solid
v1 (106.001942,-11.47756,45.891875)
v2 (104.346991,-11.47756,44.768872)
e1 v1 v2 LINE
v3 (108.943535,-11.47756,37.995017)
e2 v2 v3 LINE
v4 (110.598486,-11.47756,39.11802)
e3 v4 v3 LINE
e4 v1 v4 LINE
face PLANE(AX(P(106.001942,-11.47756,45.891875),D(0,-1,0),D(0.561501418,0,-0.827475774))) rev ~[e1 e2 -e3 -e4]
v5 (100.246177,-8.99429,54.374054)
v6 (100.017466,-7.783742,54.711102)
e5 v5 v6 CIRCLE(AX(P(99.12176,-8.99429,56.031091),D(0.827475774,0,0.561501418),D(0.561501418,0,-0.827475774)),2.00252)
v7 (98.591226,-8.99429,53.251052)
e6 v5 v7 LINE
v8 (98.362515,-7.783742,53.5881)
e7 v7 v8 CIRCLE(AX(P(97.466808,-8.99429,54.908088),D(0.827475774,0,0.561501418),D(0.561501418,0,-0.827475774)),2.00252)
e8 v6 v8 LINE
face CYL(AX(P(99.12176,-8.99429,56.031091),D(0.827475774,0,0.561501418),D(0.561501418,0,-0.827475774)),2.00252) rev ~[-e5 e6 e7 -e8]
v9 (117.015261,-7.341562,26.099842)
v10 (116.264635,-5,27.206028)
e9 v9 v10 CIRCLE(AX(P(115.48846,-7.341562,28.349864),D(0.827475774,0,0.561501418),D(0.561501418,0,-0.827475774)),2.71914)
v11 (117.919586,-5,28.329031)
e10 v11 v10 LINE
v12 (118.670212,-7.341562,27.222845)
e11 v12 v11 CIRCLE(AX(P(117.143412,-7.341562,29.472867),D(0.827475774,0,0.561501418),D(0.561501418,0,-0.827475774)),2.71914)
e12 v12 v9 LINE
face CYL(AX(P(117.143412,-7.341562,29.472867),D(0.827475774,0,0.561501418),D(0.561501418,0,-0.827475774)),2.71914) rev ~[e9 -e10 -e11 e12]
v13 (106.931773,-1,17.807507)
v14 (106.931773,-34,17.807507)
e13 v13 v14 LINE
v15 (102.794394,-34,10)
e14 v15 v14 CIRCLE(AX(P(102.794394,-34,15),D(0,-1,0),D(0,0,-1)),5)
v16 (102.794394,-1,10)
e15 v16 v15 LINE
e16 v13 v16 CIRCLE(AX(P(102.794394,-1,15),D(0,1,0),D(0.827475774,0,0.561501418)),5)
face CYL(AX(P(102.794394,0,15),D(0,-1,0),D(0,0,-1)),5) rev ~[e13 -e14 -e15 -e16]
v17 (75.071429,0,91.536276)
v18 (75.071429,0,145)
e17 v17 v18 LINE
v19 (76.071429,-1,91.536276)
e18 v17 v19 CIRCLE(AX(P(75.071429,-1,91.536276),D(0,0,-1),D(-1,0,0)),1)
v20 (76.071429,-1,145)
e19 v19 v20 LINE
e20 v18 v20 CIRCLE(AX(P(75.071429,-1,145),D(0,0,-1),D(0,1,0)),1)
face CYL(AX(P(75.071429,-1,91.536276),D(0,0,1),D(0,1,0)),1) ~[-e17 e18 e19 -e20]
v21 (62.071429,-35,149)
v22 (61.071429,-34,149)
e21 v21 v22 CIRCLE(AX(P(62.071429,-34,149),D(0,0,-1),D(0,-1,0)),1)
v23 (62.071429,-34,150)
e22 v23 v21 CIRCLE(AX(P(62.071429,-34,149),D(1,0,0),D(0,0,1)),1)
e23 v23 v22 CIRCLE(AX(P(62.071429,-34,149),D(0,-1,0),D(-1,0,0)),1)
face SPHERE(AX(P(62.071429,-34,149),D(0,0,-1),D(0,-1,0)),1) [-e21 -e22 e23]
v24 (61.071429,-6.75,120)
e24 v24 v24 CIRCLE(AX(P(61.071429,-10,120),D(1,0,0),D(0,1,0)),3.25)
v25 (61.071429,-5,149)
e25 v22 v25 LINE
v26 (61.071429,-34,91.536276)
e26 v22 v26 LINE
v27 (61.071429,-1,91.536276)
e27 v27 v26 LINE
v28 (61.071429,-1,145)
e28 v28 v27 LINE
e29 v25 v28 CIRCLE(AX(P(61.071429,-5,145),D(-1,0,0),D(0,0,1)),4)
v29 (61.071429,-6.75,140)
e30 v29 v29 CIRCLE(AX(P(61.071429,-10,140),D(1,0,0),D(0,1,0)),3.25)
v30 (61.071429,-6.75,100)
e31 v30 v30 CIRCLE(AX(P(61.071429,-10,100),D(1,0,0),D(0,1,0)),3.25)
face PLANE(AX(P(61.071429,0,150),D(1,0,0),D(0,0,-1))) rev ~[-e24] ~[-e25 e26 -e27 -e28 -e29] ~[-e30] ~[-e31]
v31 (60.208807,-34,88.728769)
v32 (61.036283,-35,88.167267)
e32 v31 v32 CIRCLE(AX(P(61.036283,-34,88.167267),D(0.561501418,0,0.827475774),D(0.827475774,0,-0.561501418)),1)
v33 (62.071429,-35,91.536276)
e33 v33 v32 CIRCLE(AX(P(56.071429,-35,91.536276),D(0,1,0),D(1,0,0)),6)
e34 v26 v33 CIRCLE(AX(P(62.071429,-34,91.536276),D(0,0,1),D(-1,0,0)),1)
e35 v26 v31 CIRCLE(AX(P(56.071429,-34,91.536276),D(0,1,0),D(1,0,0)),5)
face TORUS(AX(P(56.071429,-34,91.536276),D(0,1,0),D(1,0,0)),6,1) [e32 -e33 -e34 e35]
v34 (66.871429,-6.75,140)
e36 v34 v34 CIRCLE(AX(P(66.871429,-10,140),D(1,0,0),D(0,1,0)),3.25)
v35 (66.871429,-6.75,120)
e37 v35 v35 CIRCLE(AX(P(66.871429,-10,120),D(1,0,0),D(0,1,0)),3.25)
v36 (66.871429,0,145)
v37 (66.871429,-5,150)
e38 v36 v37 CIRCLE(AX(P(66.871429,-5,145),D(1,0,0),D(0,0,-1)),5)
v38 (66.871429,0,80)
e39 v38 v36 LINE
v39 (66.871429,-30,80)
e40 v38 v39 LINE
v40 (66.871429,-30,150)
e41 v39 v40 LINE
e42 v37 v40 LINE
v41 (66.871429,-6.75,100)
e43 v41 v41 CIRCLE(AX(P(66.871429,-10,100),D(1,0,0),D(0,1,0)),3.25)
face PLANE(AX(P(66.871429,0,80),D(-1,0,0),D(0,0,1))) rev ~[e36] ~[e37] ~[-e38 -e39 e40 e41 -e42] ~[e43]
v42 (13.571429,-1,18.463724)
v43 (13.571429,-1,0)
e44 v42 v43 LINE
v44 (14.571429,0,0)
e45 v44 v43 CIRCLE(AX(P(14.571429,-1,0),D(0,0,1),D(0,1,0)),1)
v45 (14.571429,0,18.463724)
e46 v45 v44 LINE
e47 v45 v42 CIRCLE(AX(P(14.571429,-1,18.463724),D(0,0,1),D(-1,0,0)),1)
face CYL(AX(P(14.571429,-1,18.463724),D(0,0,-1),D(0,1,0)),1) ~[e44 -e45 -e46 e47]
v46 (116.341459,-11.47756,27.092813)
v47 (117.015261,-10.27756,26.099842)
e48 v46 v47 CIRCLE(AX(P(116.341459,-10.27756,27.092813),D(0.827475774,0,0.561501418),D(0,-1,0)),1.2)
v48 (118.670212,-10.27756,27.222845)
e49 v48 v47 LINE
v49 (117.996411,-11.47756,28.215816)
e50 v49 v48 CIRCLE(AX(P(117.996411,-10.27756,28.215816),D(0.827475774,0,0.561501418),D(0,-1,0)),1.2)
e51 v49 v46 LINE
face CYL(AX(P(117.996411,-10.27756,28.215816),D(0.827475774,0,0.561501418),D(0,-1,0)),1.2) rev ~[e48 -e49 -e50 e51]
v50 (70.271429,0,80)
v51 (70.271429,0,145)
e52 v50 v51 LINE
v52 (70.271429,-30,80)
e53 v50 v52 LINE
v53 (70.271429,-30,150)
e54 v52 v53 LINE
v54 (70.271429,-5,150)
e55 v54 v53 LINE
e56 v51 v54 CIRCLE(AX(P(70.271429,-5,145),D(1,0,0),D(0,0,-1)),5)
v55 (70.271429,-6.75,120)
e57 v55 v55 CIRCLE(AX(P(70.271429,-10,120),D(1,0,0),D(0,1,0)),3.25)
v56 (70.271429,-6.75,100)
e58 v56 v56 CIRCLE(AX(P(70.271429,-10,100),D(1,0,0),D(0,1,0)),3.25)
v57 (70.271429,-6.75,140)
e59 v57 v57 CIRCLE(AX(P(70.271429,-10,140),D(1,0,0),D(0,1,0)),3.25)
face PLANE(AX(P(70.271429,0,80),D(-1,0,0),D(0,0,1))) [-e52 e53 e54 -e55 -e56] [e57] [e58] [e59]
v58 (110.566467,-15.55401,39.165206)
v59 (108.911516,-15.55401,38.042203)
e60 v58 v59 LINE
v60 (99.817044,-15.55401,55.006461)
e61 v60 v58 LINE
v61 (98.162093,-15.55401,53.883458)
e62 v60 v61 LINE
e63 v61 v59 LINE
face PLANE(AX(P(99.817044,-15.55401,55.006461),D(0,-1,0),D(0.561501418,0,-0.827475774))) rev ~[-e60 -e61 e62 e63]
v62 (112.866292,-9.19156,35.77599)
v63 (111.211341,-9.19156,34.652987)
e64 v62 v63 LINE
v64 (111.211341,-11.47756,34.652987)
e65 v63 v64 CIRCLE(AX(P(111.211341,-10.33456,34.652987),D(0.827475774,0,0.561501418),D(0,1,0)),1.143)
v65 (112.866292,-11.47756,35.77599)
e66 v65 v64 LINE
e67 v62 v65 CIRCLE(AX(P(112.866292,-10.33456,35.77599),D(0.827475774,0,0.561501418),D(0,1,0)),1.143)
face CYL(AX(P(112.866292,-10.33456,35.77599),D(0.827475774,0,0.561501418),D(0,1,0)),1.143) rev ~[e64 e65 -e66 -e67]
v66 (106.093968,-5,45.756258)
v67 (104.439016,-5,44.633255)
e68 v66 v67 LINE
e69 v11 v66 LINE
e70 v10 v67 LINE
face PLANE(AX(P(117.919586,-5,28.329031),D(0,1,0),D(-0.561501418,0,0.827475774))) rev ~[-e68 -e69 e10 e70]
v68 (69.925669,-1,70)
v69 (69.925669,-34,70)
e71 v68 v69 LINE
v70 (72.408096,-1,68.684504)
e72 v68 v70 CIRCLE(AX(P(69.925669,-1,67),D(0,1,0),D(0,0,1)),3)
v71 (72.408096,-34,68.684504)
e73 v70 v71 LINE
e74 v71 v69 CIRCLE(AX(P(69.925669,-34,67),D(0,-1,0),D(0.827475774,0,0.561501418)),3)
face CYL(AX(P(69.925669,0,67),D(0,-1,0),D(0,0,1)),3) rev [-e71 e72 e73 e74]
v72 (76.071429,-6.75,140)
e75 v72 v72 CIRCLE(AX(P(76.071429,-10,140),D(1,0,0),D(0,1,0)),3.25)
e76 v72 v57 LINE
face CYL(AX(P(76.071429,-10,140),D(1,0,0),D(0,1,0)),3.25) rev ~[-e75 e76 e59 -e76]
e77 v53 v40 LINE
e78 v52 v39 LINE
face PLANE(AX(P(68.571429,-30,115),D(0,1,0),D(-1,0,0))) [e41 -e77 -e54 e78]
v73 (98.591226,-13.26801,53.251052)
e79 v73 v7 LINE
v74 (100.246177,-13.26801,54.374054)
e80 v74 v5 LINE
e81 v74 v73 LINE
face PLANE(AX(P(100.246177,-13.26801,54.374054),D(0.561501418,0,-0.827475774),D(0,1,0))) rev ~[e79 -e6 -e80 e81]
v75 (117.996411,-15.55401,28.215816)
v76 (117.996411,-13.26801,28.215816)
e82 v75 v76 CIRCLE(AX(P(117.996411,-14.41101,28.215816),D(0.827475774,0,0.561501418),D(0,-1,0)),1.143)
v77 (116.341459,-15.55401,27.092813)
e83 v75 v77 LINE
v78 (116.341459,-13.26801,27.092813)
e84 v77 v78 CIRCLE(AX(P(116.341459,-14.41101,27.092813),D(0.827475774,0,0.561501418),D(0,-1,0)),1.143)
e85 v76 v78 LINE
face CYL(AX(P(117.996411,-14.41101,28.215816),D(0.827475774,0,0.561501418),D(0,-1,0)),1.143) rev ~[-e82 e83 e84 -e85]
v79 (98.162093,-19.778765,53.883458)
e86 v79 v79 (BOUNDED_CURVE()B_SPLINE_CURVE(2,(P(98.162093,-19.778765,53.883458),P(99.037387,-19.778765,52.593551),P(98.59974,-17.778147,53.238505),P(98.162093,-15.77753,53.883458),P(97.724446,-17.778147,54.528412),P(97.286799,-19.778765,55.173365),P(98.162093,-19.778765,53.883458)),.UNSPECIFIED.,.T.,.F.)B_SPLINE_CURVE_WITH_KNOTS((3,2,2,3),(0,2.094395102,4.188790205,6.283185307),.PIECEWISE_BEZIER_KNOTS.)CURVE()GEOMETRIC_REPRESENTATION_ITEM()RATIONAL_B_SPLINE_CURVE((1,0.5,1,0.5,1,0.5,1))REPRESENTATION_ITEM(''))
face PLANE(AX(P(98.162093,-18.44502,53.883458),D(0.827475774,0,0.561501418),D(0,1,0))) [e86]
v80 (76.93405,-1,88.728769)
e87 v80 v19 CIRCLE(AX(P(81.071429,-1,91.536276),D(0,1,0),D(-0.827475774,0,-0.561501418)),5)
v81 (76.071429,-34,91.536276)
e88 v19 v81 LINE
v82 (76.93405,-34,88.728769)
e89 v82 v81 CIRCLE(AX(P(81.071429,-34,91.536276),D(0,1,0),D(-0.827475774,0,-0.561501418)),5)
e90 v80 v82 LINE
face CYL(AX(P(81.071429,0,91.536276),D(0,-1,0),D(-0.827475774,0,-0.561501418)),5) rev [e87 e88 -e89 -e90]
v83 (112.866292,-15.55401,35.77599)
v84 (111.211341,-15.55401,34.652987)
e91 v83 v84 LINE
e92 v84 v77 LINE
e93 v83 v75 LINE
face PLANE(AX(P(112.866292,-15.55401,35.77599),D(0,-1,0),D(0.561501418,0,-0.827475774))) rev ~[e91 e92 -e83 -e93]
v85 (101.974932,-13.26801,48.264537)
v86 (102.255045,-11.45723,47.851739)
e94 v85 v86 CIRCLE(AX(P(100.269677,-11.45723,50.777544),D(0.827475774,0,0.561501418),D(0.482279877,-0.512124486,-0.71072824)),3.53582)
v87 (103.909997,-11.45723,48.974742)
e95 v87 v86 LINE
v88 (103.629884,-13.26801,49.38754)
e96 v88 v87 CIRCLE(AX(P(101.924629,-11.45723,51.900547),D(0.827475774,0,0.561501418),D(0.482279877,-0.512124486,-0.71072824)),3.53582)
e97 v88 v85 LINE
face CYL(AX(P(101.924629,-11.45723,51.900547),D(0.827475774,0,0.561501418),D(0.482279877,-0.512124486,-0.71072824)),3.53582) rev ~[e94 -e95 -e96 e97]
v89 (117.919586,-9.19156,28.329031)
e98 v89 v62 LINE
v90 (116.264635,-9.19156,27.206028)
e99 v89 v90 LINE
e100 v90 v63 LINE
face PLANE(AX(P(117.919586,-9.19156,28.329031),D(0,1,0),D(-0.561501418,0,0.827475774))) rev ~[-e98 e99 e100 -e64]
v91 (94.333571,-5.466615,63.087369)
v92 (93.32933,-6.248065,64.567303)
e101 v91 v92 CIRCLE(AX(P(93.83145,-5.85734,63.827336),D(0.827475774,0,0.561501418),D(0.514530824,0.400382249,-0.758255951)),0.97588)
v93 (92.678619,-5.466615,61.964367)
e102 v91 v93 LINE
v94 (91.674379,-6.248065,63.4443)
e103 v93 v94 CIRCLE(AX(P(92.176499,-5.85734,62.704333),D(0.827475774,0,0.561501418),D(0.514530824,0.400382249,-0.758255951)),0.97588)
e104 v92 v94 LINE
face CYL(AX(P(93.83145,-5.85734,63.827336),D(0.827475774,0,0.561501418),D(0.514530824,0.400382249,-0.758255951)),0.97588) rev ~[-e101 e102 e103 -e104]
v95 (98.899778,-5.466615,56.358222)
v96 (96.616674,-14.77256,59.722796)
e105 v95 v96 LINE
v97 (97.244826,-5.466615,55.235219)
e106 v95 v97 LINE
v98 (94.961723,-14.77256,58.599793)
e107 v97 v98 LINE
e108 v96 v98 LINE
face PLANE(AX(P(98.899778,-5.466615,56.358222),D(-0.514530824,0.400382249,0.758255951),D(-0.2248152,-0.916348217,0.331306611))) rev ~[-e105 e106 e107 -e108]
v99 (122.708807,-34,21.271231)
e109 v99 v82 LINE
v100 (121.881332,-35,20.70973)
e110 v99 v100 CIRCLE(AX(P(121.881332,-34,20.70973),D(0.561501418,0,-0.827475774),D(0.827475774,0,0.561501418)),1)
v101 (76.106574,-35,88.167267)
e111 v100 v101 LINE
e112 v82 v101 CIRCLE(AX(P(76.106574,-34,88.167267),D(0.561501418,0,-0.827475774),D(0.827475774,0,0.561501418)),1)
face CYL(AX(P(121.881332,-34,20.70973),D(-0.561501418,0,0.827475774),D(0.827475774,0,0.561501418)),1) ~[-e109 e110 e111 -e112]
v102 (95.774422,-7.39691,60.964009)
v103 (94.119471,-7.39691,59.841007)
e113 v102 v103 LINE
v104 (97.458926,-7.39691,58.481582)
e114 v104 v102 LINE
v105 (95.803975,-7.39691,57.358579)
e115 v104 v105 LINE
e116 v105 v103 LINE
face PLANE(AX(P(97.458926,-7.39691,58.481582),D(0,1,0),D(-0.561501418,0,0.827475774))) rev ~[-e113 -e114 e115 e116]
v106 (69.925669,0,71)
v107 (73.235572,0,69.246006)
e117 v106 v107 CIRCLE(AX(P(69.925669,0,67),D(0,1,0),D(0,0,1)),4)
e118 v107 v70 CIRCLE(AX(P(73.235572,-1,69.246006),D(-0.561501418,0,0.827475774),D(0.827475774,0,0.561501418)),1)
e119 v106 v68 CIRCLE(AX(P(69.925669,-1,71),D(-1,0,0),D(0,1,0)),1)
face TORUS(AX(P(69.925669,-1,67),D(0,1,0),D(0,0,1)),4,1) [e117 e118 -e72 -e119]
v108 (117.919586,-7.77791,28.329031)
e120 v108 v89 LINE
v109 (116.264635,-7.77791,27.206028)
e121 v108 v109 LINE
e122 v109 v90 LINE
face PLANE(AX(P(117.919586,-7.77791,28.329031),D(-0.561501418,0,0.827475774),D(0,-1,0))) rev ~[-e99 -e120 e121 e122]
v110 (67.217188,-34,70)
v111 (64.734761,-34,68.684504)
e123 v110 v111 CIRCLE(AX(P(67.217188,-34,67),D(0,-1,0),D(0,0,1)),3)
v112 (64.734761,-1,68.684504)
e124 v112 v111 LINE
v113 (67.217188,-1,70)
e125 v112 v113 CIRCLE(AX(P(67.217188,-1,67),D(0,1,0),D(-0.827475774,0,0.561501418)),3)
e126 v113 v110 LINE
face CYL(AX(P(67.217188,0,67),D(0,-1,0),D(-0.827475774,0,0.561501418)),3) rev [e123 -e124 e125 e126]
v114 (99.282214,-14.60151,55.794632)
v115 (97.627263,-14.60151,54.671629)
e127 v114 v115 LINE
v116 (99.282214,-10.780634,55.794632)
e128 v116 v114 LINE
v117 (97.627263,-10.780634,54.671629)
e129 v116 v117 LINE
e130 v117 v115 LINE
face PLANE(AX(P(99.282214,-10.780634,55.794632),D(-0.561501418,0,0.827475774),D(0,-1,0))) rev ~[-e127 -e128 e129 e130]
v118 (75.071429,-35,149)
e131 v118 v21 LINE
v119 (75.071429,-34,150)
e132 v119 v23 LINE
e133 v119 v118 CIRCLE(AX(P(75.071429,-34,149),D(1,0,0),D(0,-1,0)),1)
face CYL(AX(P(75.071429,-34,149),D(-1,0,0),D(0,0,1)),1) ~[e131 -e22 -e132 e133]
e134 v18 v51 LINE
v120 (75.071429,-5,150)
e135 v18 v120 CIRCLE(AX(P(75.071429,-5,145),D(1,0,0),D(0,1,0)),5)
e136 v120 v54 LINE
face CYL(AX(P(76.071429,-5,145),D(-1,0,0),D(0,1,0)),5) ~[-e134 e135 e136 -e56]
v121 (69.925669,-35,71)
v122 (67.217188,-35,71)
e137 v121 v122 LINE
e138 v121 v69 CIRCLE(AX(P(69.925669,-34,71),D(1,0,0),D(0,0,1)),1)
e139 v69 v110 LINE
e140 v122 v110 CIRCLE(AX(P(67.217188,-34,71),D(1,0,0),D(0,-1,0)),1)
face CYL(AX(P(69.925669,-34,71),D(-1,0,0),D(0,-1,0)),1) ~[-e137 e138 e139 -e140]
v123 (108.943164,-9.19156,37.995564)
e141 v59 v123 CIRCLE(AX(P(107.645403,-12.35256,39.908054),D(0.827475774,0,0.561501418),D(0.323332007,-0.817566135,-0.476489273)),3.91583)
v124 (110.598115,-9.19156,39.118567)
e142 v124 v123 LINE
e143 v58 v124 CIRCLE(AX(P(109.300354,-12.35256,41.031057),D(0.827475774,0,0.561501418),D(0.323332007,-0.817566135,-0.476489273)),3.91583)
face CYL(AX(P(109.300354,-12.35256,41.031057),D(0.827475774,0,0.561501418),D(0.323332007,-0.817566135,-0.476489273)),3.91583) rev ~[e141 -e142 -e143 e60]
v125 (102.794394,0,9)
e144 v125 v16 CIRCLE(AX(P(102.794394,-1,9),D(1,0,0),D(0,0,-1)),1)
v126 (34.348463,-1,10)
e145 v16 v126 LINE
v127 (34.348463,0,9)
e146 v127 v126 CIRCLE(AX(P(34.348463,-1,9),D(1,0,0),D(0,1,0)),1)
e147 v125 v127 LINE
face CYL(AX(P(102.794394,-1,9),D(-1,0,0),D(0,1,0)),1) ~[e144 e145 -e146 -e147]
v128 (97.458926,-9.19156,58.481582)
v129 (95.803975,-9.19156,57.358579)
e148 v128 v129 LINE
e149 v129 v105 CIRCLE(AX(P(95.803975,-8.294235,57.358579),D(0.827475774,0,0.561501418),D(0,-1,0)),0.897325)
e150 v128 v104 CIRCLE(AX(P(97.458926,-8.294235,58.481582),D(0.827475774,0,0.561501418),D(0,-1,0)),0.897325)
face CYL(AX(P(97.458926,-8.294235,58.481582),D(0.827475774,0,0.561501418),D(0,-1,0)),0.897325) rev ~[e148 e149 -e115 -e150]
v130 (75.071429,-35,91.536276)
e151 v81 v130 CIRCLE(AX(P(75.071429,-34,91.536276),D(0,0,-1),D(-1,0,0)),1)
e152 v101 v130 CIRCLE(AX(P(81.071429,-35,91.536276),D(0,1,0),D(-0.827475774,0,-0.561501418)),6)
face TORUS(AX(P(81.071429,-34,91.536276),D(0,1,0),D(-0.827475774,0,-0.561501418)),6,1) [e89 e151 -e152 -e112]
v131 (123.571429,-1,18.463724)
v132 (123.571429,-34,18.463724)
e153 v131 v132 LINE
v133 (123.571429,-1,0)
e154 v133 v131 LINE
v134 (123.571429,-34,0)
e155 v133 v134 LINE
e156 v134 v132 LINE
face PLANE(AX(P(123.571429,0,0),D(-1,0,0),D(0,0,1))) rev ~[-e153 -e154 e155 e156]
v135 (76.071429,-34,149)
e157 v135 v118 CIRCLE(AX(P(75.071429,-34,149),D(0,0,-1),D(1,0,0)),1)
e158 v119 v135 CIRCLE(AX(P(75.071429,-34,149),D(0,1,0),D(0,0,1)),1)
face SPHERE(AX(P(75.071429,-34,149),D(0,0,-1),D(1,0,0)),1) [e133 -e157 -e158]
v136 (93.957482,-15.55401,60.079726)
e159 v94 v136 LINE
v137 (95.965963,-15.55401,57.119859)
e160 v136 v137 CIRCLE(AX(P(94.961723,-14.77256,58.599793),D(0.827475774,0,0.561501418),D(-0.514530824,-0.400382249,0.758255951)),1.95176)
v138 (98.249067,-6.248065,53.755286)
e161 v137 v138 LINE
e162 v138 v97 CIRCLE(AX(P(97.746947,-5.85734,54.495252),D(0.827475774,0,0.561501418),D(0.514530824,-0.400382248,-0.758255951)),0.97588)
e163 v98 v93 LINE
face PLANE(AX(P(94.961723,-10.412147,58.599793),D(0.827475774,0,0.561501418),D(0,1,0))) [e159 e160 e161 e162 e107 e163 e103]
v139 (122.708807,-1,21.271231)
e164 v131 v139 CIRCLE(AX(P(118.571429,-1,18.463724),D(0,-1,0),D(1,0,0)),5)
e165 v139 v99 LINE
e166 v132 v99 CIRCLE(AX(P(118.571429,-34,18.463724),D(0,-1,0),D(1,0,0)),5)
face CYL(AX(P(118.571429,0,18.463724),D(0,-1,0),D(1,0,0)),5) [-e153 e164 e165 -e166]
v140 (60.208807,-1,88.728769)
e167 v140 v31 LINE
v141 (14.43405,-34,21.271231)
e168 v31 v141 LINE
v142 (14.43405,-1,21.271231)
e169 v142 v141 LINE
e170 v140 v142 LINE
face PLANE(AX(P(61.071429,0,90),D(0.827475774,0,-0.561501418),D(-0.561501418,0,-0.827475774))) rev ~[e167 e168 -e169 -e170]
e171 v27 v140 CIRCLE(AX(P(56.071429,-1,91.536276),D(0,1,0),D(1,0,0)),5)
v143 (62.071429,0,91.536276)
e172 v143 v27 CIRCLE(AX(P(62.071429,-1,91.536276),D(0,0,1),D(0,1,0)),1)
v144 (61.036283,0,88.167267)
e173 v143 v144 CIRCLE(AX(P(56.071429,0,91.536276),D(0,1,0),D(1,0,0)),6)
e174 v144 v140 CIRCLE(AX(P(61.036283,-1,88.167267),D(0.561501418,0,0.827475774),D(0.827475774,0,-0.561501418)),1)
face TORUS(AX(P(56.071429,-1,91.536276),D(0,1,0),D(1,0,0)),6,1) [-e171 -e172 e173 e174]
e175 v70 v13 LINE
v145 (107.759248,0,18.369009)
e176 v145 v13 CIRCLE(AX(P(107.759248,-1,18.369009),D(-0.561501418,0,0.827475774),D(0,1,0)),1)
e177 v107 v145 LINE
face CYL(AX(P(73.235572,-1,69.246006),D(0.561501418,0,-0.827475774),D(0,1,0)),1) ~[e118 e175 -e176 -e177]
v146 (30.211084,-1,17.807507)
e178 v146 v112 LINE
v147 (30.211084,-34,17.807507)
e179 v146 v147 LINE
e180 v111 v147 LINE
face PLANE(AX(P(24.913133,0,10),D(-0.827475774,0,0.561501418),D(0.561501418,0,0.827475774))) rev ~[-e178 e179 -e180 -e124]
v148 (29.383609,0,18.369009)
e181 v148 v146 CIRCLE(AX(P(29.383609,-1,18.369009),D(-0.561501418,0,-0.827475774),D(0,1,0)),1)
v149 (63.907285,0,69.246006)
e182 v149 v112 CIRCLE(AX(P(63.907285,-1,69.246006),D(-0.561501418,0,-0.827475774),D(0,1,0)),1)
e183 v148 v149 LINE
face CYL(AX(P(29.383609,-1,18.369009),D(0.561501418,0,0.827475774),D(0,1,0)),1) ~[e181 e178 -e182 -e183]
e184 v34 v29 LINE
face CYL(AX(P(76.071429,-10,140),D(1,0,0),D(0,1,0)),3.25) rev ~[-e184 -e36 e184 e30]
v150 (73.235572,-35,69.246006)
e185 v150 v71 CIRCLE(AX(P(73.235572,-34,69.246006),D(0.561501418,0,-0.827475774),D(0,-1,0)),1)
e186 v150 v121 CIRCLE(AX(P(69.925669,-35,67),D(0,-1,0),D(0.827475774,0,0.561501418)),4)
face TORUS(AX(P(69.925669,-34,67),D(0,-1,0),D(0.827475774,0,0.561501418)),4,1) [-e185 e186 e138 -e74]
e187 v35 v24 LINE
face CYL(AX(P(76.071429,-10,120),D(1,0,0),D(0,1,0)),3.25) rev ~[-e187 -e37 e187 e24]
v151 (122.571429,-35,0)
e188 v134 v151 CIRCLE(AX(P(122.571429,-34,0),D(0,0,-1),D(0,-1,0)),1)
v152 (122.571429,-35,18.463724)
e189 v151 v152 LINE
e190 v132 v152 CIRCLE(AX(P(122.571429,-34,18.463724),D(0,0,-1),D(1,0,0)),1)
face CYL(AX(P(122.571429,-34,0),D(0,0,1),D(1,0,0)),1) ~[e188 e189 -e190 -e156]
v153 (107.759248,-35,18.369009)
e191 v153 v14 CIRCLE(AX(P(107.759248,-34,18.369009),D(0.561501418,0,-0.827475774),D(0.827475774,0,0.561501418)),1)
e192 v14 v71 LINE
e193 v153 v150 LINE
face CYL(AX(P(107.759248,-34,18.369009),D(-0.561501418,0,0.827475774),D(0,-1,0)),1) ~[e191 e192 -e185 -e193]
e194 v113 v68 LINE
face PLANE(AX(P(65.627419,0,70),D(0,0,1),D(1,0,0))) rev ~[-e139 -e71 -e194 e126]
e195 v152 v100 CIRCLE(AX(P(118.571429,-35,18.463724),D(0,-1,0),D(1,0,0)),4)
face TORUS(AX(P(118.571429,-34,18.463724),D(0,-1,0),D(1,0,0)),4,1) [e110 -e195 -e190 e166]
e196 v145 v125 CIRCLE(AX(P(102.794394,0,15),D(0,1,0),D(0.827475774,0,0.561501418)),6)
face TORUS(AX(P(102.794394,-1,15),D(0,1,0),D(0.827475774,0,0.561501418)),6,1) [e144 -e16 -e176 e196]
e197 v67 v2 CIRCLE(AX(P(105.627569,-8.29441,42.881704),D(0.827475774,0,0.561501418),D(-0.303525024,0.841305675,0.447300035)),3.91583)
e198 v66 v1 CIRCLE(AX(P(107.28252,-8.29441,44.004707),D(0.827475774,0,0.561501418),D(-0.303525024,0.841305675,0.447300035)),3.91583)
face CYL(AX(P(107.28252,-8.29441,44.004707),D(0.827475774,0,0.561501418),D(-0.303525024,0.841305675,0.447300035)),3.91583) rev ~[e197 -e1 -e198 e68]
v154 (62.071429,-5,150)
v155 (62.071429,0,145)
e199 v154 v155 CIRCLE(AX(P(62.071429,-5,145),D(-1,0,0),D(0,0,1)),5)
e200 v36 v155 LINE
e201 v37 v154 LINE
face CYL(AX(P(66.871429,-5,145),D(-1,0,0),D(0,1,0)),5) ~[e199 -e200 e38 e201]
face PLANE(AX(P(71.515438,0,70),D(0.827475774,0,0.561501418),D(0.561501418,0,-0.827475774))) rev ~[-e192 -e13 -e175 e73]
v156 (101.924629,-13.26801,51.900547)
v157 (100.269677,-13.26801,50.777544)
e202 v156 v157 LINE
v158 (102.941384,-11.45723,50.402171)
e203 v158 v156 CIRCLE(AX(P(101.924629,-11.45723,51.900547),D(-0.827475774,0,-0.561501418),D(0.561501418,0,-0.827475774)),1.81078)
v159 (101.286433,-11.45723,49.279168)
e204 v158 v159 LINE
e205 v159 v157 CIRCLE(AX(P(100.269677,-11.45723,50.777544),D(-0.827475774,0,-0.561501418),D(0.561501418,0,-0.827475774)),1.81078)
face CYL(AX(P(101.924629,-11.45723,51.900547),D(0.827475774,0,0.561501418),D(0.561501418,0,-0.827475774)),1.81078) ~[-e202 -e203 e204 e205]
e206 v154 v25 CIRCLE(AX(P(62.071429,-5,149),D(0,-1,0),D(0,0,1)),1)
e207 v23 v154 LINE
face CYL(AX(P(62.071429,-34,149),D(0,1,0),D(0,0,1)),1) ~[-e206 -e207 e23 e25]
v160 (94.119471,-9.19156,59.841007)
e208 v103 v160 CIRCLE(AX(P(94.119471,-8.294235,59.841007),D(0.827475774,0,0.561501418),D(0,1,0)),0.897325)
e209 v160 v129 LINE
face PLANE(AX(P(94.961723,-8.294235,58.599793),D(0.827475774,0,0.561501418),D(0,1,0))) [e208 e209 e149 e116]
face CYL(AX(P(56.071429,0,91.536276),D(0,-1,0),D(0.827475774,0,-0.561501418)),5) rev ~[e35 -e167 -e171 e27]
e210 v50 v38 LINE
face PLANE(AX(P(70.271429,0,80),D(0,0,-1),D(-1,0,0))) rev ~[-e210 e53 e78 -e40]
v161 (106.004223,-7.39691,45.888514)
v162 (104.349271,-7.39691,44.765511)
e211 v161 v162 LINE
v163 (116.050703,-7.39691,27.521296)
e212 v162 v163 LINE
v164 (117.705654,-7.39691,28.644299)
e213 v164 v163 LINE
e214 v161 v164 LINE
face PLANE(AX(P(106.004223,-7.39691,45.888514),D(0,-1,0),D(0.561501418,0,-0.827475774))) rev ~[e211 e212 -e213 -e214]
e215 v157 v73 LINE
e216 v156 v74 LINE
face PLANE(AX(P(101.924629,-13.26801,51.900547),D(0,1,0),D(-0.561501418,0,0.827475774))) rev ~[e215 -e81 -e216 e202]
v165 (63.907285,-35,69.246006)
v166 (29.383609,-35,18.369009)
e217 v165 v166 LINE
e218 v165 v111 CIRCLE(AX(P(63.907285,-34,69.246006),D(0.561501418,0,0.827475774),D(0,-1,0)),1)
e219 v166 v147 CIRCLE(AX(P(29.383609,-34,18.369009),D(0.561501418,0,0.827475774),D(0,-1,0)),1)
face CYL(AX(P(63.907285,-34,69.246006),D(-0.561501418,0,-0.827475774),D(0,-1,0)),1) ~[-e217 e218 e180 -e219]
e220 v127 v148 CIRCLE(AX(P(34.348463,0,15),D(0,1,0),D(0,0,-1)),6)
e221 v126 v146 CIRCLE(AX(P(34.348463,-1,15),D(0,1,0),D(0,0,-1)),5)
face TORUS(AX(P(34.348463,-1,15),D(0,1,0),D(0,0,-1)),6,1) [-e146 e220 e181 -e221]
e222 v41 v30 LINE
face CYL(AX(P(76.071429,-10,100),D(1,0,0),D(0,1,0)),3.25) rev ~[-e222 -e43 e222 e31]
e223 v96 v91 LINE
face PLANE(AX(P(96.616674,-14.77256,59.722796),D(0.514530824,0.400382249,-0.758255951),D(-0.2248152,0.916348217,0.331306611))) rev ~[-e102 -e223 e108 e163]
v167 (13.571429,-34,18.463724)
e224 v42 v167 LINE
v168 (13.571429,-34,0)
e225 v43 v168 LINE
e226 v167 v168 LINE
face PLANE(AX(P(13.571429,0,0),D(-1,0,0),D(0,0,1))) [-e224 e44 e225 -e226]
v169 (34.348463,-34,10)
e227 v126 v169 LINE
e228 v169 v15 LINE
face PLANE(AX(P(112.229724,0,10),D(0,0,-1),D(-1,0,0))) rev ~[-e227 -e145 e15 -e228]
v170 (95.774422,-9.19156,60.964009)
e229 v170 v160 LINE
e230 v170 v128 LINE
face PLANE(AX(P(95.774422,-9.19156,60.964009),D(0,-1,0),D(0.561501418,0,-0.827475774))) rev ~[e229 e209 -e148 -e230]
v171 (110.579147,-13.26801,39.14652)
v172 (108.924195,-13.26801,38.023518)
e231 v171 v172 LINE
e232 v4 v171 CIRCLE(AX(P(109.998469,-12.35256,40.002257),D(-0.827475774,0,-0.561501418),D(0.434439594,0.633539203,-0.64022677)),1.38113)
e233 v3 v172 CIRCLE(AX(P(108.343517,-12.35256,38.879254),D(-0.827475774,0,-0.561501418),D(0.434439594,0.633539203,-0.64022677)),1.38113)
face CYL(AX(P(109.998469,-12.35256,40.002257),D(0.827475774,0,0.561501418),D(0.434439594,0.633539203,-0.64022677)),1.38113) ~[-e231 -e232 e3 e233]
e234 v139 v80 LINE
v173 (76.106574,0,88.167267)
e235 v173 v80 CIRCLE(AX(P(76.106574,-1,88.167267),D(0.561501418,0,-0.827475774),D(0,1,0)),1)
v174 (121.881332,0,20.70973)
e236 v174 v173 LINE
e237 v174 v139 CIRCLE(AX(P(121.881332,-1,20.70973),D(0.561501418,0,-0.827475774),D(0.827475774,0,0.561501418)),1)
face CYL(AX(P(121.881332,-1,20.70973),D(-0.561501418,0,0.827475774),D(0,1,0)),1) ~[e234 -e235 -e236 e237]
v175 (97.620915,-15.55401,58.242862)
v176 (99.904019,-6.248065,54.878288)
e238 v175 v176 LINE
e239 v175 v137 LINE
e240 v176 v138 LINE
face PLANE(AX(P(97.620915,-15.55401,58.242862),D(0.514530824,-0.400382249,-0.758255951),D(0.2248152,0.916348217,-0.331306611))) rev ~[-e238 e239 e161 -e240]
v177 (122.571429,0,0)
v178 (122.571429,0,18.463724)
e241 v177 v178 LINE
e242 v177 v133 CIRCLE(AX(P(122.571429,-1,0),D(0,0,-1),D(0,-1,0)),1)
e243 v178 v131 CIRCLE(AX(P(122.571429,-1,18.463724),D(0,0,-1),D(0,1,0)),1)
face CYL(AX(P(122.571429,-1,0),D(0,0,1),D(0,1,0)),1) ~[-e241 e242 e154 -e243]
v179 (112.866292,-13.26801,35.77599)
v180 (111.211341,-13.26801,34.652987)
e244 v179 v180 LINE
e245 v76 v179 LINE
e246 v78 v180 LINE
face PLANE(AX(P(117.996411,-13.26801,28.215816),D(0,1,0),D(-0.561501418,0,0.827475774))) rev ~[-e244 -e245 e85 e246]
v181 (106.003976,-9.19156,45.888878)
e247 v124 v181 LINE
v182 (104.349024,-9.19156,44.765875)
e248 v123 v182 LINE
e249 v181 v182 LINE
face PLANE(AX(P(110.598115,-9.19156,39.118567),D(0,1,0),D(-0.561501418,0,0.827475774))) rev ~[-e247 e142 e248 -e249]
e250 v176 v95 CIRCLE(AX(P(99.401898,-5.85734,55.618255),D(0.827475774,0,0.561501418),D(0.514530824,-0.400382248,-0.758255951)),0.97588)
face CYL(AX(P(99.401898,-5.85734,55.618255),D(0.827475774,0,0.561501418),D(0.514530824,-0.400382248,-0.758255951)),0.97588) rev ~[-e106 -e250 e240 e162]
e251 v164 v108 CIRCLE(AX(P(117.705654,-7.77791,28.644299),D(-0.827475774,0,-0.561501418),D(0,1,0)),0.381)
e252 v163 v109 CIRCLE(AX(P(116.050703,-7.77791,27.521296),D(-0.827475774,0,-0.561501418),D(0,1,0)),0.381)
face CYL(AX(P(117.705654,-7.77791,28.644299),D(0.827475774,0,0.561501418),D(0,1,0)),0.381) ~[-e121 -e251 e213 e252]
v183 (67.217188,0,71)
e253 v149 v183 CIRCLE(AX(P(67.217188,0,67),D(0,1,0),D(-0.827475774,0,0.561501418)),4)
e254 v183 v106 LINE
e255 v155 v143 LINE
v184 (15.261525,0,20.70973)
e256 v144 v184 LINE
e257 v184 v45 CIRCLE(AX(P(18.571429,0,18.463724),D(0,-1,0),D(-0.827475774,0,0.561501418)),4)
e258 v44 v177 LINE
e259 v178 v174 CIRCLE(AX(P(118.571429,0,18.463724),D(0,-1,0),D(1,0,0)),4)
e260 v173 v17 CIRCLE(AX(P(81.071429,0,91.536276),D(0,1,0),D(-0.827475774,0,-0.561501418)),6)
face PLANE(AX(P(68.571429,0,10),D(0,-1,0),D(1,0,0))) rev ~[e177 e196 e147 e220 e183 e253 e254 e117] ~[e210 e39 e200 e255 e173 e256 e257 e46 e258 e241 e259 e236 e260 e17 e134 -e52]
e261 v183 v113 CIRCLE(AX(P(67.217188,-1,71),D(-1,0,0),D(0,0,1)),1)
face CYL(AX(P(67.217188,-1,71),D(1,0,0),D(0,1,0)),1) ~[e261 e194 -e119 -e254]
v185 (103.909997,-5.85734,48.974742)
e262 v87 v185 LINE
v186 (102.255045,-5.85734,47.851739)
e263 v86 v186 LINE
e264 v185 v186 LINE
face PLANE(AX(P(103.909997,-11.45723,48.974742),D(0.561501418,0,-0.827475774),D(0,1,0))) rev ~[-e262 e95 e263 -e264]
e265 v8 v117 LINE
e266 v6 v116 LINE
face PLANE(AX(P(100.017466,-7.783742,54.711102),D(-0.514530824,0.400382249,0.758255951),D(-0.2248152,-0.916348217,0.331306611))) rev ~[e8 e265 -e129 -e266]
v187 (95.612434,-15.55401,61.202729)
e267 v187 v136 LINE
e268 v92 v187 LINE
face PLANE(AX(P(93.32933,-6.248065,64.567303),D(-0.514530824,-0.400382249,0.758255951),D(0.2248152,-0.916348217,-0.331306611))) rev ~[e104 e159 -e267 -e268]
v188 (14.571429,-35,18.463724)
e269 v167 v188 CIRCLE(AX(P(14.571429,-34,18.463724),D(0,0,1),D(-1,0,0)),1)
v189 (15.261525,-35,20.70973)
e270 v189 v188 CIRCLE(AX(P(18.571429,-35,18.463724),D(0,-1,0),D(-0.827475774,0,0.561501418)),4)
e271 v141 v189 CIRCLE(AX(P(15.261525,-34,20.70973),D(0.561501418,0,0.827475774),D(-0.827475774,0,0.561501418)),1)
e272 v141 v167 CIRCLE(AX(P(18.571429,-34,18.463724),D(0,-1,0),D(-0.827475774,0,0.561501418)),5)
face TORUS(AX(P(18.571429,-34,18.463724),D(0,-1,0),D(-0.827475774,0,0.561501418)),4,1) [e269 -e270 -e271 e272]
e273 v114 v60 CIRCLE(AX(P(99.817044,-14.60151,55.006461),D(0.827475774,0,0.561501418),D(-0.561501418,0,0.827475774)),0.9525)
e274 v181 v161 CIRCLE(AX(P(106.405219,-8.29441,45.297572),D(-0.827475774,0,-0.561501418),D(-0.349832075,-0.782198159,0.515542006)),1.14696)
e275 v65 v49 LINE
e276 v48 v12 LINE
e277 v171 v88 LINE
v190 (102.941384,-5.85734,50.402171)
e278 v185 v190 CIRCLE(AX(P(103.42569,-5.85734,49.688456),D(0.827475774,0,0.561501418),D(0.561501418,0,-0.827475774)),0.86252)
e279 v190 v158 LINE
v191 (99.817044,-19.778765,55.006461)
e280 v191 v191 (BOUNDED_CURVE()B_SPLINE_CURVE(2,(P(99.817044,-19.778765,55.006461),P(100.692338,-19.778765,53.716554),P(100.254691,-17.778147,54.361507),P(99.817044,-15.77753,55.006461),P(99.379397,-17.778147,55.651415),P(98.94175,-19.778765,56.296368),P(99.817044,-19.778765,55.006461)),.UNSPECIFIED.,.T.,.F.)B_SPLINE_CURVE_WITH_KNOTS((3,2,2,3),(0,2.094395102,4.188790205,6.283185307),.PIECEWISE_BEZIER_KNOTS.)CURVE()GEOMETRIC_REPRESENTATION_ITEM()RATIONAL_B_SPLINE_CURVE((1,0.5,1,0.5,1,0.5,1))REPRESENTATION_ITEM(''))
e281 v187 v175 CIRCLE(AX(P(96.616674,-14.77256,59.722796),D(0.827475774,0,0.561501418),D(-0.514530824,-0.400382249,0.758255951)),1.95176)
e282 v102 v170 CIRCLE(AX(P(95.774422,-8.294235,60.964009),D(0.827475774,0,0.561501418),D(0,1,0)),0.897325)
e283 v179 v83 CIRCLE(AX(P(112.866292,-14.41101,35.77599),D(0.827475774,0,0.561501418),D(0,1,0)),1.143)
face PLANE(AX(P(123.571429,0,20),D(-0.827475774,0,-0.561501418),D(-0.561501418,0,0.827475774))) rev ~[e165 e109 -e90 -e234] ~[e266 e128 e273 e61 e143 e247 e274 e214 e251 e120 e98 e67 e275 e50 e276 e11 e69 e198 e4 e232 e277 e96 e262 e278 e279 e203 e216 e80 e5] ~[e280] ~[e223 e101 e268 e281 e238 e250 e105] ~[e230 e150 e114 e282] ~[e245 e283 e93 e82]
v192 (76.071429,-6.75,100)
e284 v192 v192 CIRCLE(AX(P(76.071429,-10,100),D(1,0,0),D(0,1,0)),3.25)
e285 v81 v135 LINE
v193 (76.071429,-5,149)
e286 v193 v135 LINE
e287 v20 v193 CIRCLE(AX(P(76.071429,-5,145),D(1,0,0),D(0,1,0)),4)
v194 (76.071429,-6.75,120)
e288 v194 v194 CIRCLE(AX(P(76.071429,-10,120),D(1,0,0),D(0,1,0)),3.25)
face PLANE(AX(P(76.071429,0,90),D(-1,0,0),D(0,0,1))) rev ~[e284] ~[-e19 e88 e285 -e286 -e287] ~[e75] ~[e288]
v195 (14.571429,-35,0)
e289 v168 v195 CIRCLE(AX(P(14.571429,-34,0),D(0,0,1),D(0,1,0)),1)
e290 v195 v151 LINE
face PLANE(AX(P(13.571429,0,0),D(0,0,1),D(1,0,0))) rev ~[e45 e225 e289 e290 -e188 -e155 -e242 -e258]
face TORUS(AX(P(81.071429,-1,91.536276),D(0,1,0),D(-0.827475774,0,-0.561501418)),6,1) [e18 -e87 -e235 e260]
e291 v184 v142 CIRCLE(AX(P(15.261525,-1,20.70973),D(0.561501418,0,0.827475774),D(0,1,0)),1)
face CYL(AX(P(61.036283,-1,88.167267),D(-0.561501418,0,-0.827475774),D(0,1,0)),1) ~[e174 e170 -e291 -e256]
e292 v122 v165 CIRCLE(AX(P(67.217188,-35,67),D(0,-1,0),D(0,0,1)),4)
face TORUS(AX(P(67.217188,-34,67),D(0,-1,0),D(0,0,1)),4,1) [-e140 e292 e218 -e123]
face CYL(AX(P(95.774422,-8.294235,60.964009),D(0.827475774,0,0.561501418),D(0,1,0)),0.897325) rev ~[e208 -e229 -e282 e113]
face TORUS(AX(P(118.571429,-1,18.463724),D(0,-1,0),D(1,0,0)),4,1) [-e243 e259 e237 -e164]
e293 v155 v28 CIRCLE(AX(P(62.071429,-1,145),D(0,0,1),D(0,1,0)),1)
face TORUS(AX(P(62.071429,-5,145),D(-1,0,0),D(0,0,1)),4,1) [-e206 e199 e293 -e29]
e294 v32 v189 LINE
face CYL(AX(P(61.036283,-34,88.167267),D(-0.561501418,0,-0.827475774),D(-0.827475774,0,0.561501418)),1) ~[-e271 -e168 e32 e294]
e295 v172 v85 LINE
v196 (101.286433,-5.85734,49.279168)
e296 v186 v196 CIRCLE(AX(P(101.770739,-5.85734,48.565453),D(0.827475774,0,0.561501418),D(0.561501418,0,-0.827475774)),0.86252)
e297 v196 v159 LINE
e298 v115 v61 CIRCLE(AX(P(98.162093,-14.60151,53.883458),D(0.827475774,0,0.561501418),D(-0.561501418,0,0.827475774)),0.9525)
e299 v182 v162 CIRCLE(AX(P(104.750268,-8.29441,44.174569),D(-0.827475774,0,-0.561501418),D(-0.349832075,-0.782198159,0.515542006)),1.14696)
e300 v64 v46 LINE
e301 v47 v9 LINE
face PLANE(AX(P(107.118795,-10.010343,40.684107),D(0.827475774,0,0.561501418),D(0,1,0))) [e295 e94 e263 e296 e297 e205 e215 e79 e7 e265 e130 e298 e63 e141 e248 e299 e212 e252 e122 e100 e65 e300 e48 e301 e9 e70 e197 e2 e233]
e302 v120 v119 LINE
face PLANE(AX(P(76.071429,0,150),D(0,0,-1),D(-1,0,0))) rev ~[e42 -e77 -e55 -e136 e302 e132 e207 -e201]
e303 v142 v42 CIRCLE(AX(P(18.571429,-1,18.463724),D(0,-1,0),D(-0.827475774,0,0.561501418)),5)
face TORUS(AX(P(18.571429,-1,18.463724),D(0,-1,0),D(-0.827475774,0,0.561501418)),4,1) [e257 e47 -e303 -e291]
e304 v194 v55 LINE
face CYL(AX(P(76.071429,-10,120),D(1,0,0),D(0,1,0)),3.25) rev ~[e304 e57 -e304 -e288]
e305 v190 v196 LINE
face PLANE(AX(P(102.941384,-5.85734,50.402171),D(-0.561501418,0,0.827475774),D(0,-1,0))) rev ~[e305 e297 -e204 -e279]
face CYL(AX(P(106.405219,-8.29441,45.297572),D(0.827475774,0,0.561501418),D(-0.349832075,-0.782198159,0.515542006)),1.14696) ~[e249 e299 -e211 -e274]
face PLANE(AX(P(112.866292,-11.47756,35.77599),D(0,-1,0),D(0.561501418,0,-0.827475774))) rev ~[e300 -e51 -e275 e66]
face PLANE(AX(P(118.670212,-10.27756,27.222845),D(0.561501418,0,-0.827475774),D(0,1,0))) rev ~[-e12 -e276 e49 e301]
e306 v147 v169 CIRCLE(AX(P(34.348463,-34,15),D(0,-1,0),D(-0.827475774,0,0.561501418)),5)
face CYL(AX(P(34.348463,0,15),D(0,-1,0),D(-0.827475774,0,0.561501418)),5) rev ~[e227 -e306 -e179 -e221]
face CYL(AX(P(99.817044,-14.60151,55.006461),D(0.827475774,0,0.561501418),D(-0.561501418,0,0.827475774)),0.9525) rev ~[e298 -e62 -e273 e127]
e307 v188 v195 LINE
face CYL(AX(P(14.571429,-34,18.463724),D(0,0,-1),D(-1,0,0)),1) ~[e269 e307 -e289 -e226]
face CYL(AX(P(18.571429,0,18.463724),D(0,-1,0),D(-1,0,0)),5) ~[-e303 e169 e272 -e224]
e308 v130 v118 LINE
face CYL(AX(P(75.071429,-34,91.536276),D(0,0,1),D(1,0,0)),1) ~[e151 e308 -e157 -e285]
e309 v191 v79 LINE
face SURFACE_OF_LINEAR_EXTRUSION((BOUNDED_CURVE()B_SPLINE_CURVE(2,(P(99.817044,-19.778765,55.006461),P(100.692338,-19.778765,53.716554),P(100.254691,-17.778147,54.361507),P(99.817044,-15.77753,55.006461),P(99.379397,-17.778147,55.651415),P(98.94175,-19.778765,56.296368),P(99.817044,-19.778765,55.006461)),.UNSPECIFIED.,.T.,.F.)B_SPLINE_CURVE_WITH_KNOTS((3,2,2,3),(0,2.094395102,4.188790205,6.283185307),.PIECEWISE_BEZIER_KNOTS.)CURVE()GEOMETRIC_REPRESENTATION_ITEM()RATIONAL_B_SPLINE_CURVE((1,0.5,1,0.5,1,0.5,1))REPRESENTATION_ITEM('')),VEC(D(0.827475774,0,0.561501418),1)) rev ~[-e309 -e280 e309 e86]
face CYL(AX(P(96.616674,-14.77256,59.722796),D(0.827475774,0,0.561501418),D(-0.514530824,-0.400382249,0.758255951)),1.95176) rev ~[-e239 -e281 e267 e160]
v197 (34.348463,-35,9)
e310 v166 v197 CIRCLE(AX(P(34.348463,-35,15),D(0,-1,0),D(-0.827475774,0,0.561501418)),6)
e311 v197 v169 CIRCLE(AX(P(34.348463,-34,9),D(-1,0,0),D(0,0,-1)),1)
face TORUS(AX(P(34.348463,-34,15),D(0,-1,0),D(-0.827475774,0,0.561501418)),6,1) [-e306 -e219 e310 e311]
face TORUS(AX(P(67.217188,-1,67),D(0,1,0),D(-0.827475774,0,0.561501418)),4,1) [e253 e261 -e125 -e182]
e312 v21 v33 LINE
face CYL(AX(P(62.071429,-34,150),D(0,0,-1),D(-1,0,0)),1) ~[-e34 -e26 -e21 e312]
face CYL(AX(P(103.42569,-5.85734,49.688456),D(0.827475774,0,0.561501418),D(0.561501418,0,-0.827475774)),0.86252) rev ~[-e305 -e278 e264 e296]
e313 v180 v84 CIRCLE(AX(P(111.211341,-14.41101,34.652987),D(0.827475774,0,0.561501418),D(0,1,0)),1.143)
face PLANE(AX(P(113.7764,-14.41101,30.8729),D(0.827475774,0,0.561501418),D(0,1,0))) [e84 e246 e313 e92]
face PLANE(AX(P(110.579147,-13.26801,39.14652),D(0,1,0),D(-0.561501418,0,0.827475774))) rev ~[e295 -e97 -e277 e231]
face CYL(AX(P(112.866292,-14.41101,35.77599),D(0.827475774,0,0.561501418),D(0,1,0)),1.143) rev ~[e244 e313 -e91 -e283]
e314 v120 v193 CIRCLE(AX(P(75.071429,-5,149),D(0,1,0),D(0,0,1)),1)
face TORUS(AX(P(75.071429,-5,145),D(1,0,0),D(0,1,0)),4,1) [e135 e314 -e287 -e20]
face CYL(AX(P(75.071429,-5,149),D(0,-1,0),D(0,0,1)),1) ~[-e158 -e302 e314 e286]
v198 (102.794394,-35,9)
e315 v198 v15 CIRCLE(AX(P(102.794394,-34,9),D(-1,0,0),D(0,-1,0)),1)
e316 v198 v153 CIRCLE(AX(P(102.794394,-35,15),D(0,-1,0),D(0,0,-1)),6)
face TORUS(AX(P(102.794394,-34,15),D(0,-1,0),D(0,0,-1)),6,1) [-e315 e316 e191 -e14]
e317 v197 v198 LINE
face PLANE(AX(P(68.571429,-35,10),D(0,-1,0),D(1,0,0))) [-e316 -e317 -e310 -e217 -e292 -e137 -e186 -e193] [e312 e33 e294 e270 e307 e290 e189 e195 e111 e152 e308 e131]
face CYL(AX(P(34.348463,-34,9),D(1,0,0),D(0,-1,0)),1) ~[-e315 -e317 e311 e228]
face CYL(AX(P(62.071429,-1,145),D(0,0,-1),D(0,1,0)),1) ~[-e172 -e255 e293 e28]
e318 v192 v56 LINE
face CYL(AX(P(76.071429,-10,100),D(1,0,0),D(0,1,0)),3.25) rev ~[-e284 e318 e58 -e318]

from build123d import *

# Parameters (mm, degrees)
F0_W      = 110
F0_H      = 20
F1_DEPTH  = 35
F2_W      = 3.4
F2_H      = 70
F3_DEPTH  = 30
F4_R      = 3.25
F5_DEPTH  = 25
F7_DEPTH  = 35.001
F8_R      = 5
F9_R      = 3
F10_R     = 5
F11_R     = 1
F12_R     = 1
F13_R     = 1
F15_DEPTH = 2


with BuildPart() as f1:
    # F0 (on Front) → F1 (new body)
    with BuildSketch(Plane.XZ):
        with Locations((68.5714285714, 10)):
            Rectangle(F0_W, F0_H)
        Polygon((61.0714285714, 90), (13.5714285714, 20), (123.5714285714, 20), (76.0714285714, 90), align=None)
        Polygon((68.5714285714, 101.0526315789), (61.0714285714, 90), (76.0714285714, 90), align=None)
        Polygon((61.0714285714, 150), (61.0714285714, 90), (68.5714285714, 101.0526315789), (76.0714285714, 90), (76.0714285714, 150), align=None)
    extrude(amount=F1_DEPTH)

    # F2 (on face) → F3 (cut)
    with BuildSketch(Plane(origin=(0, 0, 0), x_dir=(-1, 0, 0), z_dir=(0, 1, 0))):
        with Locations((-68.5714285714, 115)):
            Rectangle(F2_W, F2_H)
    extrude(amount=-F3_DEPTH, mode=Mode.SUBTRACT)

    # F4 (on face) → F5 (cut)
    with BuildSketch(Plane.YZ.offset(76.0714285714)):
        with Locations((-10, 140)):
            Circle(F4_R)
        with Locations((-10, 120)):
            Circle(F4_R)
        with Locations((-10, 100)):
            Circle(F4_R)
    extrude(amount=-F5_DEPTH, mode=Mode.SUBTRACT)

    # F6 (on face) → F7 (cut, through all)
    with BuildSketch(Plane(origin=(0, 0, 0), x_dir=(-1, 0, 0), z_dir=(0, 1, 0))):
        Polygon((-71.5154382332, 70), (-112.2297239475, 10), (-24.9131331954, 10), (-65.6274189097, 70), align=None)
    extrude(amount=-F7_DEPTH, mode=Mode.SUBTRACT)

    # F8
    f8_edges = [f1.edges().sort_by_distance(p)[0] for p in [
        (24.913133, -17.5, 10),
        (112.229724, -17.5, 10),
        (13.571429, -17.5, 20),
        (123.571429, -17.5, 20),
        (61.071429, -17.5, 90),
        (76.071429, -17.5, 90),
    ]]
    fillet(f8_edges, radius=F8_R)

    # F9
    f9_edges = [f1.edges().sort_by_distance(p)[0] for p in [
        (71.515438, -17.5, 70),
        (65.627419, -17.5, 70),
    ]]
    fillet(f9_edges, radius=F9_R)

    # F10
    f10_edges = [f1.edges().sort_by_distance(p)[0] for p in [
        (73.171429, 0, 150),
        (63.971429, 0, 150),
    ]]
    fillet(f10_edges, radius=F10_R)

    # F11
    f11_edges = [f1.edges().sort_by_distance(p)[0] for p in [
        (76.071429, -35, 120.768138),
        (61.071429, -35, 120.768138),
    ]]
    fillet(f11_edges, radius=F11_R)

    # F12
    f12_edges = [f1.edges().sort_by_distance(p)[0] for p in [
        (68.571429, -35, 150),
    ]]
    fillet(f12_edges, radius=F12_R)

    # F13
    f13_edges = [f1.edges().sort_by_distance(p)[0] for p in [
        (47.472923, 0, 43.246006),
        (47.472923, -35, 43.246006),
    ]]
    fillet(f13_edges, radius=F13_R)

    # F14 (on face) → F15 (cut)
    with BuildSketch(Plane(origin=(93.903930131, 0, 63.7205240175), x_dir=(0, 1, 0), z_dir=(0.8274757744, 0, 0.5615014183))):
        with BuildLine():
            ThreePointArc((-7.39691, -42.389428057), (-7.5085023164, -42.6588357407), (-7.77791, -42.770428057))
            Line((-7.77791, -42.770428057), (-9.19156, -42.770428057))
            Line((-9.19156, -42.770428057), (-9.19156, -33.770818057))
            ThreePointArc((-9.19156, -33.770818057), (-10.33456, -32.627818057), (-11.47756, -33.770818057))
            Line((-11.47756, -33.770818057), (-11.47756, -42.907248057))
            ThreePointArc((-11.47756, -42.907248057), (-11.1260881374, -43.7557761945), (-10.27756, -44.107248057))
            Line((-10.27756, -44.107248057), (-7.3415622471, -44.107248057))
            ThreePointArc((-7.3415622471, -44.107248057), (-5.9934152346, -43.7495106005), (-5, -42.770428057))
            Line((-5, -42.770428057), (-5, -21.7097182665))
            ThreePointArc((-5, -21.7097182665), (-8.1953654076, -19.9118808439), (-11.47756, -21.5458264194))
            Line((-11.47756, -21.5458264194), (-11.47756, -29.7319929648))
            ThreePointArc((-11.47756, -29.7319929648), (-12.3791235209, -30.0442725829), (-13.26801, -29.6975505479))
            Line((-13.26801, -29.6975505479), (-13.26801, -17.3213335826))
            ThreePointArc((-13.26801, -17.3213335826), (-12.3963505956, -17.6932012527), (-11.45723, -17.820198057))
            Line((-11.45723, -17.820198057), (-5.85734, -17.820198057))
            ThreePointArc((-5.85734, -17.820198057), (-4.99482, -16.957678057), (-5.85734, -16.095158057))
            Line((-5.85734, -16.095158057), (-11.45723, -16.095158057))
            ThreePointArc((-11.45723, -16.095158057), (-12.7376448172, -15.5647928743), (-13.26801, -14.284378057))
            Line((-13.26801, -14.284378057), (-13.26801, -11.295158057))
            Line((-13.26801, -11.295158057), (-8.99429, -11.295158057))
            ThreePointArc((-8.99429, -11.295158057), (-8.3556712039, -11.1905981156), (-7.7837423225, -10.8878373145))
            Line((-7.7837423225, -10.8878373145), (-10.7806342513, -9.578398057))
            Line((-10.7806342513, -9.578398057), (-14.60151, -9.578398057))
            ThreePointArc((-14.60151, -9.578398057), (-15.2750292091, -9.857378848), (-15.55401, -10.530898057))
            Line((-15.55401, -10.530898057), (-15.55401, -29.6749688929))
            ThreePointArc((-15.55401, -29.6749688929), (-12.3872480124, -31.3357744138), (-9.19156, -29.7313322704))
            Line((-9.19156, -29.7313322704), (-9.19156, -21.5494478814))
            ThreePointArc((-9.19156, -21.5494478814), (-8.2941290281, -21.1170780915), (-7.39691, -21.5498875186))
            Line((-7.39691, -21.5498875186), (-7.39691, -42.389428057))
        make_face()
        with BuildLine():
            ThreePointArc((-15.55401, -42.907248057), (-14.41101, -44.050248057), (-13.26801, -42.907248057))
            Line((-13.26801, -42.907248057), (-13.26801, -33.770818057))
            ThreePointArc((-13.26801, -33.770818057), (-14.41101, -32.627818057), (-15.55401, -33.770818057))
            Line((-15.55401, -33.770818057), (-15.55401, -42.907248057))
        make_face()
        with BuildLine():
            Line((-5.4666149713, -8.8973021589), (-14.7725599426, -4.831233057))
            Line((-14.7725599426, -4.831233057), (-5.4666149713, -0.7651639552))
            ThreePointArc((-5.4666149713, -0.7651639552), (-4.9630941019, 0.5198069716), (-6.2480650287, 1.0233278411))
            Line((-6.2480650287, 1.0233278411), (-15.55401, -3.0427412608))
            ThreePointArc((-15.55401, -3.0427412608), (-16.7243199426, -4.831233057), (-15.55401, -6.6197248533))
            Line((-15.55401, -6.6197248533), (-6.2480650287, -10.6857939552))
            ThreePointArc((-6.2480650287, -10.6857939552), (-4.9630941019, -10.1822730857), (-5.4666149713, -8.8973021589))
        make_face()
        with BuildLine():
            ThreePointArc((-9.19156, -6.331233057), (-8.294235, -7.228558057), (-7.39691, -6.331233057))
            Line((-7.39691, -6.331233057), (-7.39691, -3.331233057))
            ThreePointArc((-7.39691, -3.331233057), (-8.294235, -2.433908057), (-9.19156, -3.331233057))
            Line((-9.19156, -3.331233057), (-9.19156, -6.331233057))
        make_face()
        with BuildLine():
            add(Edge.make_bspline(
                [(-19.778765, -10.530898057), (-19.778765, -12.0897437839), (-17.7781475, -11.3103209205), (-15.77753, -10.530898057), (-17.7781475, -9.7514751936), (-19.778765, -8.9720523302), (-19.778765, -10.530898057)],
                knots=[0, 0, 0, 2.0943951024, 2.0943951024, 4.1887902048, 4.1887902048, 6.2831853072, 6.2831853072, 6.2831853072], degree=2, weights=[1, 0.5, 1, 0.5, 1, 0.5, 1]))
        make_face()
    extrude(amount=-F15_DEPTH, mode=Mode.SUBTRACT)


solid = f1.part
